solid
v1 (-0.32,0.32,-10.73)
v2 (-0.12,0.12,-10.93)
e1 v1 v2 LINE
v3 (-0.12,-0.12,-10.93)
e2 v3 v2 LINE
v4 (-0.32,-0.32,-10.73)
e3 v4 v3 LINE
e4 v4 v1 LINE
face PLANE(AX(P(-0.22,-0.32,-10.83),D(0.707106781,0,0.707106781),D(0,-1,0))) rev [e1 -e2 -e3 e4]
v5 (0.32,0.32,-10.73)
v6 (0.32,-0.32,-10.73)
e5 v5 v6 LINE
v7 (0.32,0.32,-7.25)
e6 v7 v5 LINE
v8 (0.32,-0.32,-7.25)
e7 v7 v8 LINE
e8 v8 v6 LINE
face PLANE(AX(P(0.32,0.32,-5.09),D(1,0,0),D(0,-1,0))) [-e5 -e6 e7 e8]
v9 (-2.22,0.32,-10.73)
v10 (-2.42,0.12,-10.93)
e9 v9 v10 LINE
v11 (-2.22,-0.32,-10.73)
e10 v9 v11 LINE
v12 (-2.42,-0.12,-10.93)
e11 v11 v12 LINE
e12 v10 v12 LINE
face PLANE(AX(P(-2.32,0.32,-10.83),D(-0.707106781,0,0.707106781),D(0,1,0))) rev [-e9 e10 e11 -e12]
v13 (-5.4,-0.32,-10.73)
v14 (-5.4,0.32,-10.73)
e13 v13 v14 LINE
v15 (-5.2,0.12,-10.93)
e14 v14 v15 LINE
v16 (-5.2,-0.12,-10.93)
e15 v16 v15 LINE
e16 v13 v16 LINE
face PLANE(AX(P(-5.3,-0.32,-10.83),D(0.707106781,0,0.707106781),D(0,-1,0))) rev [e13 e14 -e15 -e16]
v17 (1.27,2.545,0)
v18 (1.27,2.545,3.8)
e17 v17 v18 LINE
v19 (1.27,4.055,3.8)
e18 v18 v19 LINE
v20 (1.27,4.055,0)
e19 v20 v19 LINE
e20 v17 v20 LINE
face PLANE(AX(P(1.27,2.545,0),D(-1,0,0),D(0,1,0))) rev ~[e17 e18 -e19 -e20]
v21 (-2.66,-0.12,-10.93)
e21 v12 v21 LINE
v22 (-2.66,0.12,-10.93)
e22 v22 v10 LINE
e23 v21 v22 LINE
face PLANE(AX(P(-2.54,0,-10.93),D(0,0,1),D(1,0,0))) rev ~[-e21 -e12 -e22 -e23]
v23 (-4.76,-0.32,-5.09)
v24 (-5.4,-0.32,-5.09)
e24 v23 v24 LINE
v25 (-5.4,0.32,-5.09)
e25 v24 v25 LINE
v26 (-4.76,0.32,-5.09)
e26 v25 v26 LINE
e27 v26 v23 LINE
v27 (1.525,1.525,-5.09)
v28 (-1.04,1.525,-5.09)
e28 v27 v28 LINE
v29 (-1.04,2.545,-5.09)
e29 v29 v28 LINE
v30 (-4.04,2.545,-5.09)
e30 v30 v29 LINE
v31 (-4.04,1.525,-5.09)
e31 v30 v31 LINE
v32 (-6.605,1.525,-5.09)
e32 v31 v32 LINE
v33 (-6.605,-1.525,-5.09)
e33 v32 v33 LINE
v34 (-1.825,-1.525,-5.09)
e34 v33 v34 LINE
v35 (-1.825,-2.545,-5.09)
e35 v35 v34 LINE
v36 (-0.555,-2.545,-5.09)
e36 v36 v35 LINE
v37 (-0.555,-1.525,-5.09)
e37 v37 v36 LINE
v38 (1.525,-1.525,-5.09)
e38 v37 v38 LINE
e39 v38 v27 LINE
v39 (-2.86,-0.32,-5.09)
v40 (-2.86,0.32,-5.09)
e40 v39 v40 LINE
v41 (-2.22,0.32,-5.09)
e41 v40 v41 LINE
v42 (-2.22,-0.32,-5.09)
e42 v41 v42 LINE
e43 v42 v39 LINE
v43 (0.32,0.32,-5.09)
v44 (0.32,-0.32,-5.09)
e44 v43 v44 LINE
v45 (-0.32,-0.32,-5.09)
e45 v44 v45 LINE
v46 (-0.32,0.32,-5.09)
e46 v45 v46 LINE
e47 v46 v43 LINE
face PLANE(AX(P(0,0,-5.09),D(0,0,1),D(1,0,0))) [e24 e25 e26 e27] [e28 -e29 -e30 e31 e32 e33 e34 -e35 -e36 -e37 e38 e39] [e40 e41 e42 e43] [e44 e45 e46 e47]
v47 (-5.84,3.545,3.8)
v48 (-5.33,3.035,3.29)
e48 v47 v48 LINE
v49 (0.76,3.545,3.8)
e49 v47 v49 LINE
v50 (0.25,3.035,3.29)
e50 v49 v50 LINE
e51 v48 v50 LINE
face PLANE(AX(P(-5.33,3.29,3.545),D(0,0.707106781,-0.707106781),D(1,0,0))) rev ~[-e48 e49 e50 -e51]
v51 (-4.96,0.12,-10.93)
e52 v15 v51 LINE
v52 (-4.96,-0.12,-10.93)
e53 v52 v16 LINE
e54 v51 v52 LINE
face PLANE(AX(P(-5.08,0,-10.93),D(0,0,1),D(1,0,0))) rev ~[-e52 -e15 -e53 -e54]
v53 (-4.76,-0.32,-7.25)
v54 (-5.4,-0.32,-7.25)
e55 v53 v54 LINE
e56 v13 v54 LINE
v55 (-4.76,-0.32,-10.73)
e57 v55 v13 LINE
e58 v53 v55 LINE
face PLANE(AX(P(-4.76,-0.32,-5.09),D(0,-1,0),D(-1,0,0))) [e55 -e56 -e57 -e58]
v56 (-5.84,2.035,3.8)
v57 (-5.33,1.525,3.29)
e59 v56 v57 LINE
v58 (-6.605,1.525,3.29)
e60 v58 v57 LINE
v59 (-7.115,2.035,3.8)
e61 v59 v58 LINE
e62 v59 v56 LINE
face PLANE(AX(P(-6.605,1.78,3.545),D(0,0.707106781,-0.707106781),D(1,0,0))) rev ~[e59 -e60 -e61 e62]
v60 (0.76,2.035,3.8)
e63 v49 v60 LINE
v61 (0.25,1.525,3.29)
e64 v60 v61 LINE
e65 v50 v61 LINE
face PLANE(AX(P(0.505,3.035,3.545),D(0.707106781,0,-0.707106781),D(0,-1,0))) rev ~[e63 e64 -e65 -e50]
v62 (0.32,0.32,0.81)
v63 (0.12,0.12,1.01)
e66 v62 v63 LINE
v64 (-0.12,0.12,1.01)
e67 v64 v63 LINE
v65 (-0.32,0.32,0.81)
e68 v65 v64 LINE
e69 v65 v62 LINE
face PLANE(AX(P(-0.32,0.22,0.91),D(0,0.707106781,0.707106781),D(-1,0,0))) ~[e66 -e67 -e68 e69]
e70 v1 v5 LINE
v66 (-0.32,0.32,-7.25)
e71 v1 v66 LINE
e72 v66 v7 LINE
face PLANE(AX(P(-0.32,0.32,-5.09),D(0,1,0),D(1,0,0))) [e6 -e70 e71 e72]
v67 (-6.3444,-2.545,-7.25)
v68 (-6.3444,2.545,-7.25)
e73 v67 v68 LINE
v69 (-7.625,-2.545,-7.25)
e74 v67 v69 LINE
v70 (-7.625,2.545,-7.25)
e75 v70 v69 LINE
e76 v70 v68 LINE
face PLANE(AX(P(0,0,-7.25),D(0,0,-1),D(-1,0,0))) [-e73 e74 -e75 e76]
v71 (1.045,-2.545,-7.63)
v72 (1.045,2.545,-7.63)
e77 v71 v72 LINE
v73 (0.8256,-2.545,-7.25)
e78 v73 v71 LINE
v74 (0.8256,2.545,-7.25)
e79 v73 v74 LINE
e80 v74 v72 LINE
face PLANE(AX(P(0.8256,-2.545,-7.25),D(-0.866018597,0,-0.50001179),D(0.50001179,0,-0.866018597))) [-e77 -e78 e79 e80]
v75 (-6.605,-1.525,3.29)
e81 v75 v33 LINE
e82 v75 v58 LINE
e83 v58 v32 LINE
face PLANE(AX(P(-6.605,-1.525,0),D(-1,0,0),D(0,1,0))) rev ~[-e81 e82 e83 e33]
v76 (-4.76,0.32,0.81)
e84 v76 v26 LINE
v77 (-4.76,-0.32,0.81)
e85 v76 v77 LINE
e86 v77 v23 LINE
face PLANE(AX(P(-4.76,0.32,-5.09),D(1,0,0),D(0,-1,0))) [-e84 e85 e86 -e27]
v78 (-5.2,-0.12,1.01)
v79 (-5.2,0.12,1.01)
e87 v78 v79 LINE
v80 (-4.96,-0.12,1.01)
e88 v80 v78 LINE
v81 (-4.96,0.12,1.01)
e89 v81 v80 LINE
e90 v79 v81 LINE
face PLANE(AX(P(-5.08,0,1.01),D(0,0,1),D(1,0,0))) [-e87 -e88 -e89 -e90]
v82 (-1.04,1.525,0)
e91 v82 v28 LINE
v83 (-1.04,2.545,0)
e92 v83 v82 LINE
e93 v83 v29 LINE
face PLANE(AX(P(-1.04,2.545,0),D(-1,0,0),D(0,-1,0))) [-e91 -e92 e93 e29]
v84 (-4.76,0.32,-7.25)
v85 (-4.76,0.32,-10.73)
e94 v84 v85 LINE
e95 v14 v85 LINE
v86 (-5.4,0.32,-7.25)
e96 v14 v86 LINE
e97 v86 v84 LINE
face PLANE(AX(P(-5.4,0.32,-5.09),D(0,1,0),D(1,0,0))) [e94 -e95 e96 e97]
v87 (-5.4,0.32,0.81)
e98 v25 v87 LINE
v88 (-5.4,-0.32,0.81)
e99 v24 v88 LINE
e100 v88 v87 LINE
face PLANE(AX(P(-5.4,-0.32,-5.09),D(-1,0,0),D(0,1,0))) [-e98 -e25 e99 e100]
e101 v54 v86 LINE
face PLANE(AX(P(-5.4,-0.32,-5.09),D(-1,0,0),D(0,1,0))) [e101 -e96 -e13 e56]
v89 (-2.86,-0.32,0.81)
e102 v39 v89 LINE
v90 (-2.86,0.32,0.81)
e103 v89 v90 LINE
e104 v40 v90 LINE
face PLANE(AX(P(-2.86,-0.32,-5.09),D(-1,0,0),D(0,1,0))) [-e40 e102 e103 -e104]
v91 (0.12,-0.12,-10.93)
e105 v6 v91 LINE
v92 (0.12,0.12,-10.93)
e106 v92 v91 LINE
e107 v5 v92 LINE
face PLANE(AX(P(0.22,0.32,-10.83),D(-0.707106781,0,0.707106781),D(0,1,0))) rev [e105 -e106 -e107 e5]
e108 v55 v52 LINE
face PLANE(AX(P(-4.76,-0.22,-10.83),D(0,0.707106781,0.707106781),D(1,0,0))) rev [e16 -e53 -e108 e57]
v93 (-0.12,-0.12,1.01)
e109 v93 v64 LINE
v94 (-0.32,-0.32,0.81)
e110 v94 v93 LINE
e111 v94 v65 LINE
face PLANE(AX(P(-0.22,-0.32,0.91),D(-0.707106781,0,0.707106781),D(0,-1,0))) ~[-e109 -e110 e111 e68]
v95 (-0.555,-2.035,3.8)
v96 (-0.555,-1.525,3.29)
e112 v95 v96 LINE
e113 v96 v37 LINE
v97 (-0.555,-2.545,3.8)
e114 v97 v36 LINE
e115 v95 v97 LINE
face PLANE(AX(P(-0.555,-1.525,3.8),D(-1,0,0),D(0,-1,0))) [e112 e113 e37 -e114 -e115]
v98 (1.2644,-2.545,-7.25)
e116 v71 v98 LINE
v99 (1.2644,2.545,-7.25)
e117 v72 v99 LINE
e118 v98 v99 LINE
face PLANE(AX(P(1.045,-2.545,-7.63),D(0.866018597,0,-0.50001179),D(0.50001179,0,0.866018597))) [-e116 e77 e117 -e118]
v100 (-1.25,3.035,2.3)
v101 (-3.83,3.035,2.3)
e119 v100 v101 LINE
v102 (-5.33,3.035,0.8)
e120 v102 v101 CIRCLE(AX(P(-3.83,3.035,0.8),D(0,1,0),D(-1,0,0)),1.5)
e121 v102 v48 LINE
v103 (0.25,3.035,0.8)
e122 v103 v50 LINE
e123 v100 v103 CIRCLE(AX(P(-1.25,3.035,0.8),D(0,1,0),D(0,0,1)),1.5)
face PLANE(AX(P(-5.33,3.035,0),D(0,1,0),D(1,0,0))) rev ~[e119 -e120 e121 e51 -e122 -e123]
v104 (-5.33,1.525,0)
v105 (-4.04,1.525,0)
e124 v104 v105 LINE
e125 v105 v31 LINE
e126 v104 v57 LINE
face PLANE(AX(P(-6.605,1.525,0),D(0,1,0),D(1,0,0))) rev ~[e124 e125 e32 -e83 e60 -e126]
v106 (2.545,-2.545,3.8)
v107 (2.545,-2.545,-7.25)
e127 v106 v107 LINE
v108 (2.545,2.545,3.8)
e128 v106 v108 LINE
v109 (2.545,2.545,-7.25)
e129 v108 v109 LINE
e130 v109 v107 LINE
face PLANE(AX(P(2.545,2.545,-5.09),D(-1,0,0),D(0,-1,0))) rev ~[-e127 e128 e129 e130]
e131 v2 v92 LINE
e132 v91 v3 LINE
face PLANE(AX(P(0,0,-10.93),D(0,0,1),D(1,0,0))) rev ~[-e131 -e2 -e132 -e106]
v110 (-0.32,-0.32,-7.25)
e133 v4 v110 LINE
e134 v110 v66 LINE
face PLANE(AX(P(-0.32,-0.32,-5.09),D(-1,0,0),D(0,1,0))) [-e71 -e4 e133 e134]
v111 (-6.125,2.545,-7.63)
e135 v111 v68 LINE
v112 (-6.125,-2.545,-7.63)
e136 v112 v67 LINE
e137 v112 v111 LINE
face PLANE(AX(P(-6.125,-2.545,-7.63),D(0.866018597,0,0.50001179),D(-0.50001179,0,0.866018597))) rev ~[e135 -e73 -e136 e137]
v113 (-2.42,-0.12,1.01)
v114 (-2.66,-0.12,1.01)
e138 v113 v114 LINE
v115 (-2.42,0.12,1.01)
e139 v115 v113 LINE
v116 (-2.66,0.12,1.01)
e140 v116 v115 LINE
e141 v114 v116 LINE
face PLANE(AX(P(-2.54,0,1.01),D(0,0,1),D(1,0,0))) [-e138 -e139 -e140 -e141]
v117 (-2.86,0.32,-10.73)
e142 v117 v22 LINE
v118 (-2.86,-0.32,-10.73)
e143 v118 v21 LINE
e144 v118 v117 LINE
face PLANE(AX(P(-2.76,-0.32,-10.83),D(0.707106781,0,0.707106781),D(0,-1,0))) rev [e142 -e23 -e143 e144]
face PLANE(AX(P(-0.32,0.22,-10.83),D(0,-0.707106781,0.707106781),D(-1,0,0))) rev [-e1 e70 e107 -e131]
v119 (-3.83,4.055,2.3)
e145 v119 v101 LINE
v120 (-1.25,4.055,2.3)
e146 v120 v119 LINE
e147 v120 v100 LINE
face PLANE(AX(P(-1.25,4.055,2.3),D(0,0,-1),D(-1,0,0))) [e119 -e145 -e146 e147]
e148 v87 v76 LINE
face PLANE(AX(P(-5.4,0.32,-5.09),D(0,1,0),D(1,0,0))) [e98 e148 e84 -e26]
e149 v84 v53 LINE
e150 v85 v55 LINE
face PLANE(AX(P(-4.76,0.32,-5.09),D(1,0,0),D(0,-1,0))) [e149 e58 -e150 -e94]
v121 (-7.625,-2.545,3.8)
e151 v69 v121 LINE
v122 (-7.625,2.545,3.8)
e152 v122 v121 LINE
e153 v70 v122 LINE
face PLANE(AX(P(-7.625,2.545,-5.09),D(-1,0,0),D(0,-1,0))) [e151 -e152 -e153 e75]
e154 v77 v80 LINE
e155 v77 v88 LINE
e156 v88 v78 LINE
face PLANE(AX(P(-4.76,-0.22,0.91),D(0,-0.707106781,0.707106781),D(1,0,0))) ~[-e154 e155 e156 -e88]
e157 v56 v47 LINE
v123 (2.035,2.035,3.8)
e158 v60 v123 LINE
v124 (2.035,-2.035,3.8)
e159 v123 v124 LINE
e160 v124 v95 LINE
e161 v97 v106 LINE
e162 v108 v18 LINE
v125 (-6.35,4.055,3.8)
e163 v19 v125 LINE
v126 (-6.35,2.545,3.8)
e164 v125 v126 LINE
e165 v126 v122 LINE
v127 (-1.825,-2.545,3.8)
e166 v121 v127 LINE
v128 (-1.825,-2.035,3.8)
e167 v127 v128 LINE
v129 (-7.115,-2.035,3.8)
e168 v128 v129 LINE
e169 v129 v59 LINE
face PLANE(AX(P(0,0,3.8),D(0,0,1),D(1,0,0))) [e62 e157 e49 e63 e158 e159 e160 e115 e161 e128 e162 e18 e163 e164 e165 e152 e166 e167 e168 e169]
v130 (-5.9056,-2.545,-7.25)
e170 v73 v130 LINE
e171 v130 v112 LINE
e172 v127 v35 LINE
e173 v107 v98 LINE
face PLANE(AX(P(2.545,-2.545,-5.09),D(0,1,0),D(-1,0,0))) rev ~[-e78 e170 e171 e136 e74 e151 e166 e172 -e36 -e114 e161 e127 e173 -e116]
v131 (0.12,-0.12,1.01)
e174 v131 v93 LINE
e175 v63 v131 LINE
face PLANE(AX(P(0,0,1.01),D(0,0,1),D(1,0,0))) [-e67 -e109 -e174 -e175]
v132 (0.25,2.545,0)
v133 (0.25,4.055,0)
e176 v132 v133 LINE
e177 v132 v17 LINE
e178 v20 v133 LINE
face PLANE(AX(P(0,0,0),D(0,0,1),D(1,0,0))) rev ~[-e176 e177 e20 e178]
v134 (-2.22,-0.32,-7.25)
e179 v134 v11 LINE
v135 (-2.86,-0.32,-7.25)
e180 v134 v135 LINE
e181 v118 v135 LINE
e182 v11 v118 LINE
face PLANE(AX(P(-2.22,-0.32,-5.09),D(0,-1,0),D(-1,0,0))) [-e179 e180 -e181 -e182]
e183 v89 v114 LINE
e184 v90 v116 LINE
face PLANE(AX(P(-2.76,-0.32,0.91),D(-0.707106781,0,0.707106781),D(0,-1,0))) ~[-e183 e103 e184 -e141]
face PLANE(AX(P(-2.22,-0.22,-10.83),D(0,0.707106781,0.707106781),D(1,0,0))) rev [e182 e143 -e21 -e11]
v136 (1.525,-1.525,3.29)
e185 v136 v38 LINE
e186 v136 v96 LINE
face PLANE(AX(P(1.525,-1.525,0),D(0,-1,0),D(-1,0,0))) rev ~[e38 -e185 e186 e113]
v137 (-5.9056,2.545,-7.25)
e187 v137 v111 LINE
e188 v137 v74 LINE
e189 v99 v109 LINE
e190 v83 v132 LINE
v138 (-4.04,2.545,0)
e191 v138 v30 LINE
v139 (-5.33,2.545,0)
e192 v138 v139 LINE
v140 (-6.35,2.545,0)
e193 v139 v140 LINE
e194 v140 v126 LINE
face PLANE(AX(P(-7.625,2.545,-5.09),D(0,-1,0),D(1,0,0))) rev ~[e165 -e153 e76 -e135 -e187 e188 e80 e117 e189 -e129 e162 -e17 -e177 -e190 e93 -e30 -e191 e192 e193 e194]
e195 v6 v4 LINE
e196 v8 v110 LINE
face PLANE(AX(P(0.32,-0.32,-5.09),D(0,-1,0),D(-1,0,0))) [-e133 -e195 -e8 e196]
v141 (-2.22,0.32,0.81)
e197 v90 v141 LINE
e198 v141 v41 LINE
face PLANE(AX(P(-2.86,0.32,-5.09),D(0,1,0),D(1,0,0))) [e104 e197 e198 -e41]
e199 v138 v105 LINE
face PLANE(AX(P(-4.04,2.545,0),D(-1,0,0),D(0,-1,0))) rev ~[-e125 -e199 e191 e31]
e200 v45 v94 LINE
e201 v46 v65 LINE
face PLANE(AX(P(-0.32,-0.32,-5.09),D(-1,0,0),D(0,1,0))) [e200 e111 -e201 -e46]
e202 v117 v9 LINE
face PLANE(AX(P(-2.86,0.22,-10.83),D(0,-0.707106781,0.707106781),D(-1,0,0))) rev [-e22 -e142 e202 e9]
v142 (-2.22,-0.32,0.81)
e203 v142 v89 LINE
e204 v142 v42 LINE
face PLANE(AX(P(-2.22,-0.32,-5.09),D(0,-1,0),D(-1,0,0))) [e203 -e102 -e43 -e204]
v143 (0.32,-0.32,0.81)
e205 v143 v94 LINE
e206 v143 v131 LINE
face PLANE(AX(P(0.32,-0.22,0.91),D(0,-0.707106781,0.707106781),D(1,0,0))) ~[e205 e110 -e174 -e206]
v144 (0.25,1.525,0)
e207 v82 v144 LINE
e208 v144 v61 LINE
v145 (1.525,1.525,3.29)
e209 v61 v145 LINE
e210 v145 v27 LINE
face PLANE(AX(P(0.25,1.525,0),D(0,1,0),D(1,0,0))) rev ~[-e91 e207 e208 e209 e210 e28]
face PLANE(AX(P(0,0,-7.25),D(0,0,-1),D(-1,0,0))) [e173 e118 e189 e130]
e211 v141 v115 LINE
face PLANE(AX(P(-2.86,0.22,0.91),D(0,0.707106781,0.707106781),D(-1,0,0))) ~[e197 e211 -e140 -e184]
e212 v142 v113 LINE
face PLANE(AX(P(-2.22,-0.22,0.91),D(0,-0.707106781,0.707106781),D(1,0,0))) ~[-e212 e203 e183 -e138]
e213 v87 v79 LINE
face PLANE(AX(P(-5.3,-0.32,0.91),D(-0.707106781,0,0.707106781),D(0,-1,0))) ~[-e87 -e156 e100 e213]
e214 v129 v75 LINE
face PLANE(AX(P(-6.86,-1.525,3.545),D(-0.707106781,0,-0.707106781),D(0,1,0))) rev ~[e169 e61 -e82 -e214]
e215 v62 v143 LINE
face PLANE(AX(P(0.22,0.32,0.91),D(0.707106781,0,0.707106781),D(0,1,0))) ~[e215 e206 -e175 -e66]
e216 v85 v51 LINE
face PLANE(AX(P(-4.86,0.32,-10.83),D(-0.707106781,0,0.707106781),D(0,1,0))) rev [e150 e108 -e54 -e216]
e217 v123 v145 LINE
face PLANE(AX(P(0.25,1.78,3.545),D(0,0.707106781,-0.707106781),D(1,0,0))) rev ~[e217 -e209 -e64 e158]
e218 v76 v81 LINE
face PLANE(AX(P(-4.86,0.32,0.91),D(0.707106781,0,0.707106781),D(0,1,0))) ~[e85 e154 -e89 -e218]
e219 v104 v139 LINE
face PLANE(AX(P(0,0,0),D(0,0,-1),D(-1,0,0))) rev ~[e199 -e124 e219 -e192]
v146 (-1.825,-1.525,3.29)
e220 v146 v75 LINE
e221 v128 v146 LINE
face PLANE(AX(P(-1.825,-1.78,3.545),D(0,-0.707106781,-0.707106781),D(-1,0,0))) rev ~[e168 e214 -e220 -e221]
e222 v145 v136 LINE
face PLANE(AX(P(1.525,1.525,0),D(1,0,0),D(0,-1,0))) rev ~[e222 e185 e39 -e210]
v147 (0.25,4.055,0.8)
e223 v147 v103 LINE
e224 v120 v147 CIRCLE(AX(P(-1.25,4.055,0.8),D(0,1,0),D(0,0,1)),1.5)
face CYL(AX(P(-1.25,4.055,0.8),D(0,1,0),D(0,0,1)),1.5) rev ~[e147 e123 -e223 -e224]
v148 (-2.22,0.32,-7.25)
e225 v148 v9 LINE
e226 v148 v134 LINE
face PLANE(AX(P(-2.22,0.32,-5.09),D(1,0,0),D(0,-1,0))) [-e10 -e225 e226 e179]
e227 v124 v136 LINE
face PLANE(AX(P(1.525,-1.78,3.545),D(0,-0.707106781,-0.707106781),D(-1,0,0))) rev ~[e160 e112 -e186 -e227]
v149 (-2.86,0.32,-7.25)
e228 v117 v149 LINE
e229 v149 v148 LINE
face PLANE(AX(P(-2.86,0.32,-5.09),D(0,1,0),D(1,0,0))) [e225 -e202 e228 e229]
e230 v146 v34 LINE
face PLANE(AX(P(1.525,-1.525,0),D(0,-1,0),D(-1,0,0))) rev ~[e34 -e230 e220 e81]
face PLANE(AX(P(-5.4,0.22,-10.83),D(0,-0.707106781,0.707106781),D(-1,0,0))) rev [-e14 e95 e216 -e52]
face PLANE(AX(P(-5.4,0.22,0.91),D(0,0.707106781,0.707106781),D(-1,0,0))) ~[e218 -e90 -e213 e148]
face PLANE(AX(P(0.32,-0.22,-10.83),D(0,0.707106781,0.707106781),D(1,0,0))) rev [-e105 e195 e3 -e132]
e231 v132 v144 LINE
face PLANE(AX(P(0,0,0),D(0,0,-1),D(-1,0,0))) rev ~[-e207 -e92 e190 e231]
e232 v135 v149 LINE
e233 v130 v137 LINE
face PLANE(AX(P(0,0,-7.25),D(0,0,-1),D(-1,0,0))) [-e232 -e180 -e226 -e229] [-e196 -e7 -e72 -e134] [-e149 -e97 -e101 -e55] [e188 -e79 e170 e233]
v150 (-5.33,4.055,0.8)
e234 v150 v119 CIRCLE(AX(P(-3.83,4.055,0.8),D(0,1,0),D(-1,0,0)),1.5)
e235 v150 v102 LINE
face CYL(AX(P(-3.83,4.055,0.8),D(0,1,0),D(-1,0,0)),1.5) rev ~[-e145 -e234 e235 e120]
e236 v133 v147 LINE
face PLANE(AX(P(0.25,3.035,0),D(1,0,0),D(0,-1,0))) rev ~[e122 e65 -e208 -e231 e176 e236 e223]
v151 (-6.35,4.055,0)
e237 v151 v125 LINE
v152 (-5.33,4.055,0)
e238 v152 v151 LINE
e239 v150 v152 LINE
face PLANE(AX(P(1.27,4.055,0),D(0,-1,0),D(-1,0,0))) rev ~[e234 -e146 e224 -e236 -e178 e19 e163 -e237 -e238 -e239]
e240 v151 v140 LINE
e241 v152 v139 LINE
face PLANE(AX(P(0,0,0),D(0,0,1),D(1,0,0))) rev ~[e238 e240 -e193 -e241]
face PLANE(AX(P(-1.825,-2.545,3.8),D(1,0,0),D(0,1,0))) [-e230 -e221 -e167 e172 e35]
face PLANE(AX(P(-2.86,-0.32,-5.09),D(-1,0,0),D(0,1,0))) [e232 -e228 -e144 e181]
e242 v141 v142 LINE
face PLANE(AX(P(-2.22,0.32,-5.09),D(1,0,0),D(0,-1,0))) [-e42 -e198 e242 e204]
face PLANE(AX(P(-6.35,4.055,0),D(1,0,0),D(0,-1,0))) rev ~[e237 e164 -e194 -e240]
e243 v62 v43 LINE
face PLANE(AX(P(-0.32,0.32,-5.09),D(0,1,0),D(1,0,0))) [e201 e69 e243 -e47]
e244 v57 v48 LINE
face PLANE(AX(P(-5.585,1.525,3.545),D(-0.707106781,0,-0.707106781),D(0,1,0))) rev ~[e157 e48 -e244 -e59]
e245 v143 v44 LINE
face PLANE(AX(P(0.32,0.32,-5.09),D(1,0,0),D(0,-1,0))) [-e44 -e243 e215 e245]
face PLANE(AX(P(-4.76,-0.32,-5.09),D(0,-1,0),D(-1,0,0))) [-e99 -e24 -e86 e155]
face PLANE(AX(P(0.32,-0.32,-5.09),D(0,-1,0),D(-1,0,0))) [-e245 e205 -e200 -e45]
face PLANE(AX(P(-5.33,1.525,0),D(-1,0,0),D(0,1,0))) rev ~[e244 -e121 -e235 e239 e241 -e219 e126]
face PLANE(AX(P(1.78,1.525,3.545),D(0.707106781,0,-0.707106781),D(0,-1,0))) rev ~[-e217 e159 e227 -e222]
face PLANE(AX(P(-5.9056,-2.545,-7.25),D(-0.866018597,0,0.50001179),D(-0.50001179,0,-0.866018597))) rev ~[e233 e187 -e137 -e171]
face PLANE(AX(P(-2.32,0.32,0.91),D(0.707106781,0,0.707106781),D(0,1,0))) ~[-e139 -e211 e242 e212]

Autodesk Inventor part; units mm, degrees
ref_plane "YZ Plane" through (0, 0, 0) normal (1, 0, 0) x (0, 1, 0)
ref_plane "XZ Plane" through (0, 0, 0) normal (0, 1, 0) x (-1, 0, 0)
ref_plane "XY Plane" through (0, 0, 0) normal (0, 0, 1) x (1, 0, 0)
sketch "Skizze1" plane through (0, 0, 0) normal (0, 0, 1) x (1, 0, 0)
  line L0 (-7.625, -2.545) -> (2.545, -2.545)
  line L1 (2.545, -2.545) -> (2.545, 2.545)
  line L2 (2.545, 2.545) -> (1.27, 2.545)
  line L3 (1.27, 2.545) -> (1.27, 4.055)
  line L4 (1.27, 4.055) -> (-6.35, 4.055)
  line L5 (-6.35, 4.055) -> (-6.35, 2.545)
  line L6 (-6.35, 2.545) -> (-7.625, 2.545)
  line L7 (-7.625, 2.545) -> (-7.625, -2.545)
  line L8 (-5.33, 3.035) -> (0.25, 3.035)
  line L9 (0.25, 3.035) -> (0.25, 1.525)
  line L10 (0.25, 1.525) -> (1.525, 1.525)
  line L11 (1.525, 1.525) -> (1.525, -1.525)
  line L12 (1.525, -1.525) -> (-6.605, -1.525)
  line L13 (-6.605, -1.525) -> (-6.605, 1.525)
  line L14 (-6.605, 1.525) -> (-5.33, 1.525)
  line L15 (-5.33, 1.525) -> (-5.33, 3.035)
  line L16 (-6.605, 0) -> (-5.08, 0) construction
  line L17 (-5.08, 0) -> (0, 0) construction
  line L18 (0, 0) -> (1.525, 0) construction
  point P0 (0, -2.035)
  dimension "d0" = 1.02
  dimension "d1" = 3.05
  dimension "d3" = 7.62
  dimension "d4" = 6.6
  dimension "d5" = 1.525
  dimension "d6" = 5.08
extrude "Extrusion1" add sketch "Skizze1" along normal blind 3.8
sketch "Skizze2" plane through (0, 0, 0) normal (0, 0, -1) x (-1, 0, 0)
  line L0 (-2.545, -2.545) -> (-2.545, 2.545) projected
  line L1 (-2.545, 2.545) -> (-1.27, 2.545) projected
  line L2 (-1.525, 1.525) -> (-0.25, 1.525) projected
  line L3 (-1.525, -1.525) -> (-1.525, 1.525) projected
  line L4 (6.605, -1.525) -> (-1.525, -1.525) projected
  line L5 (7.625, -2.545) -> (-2.545, -2.545) projected
  line L6 (7.625, 2.545) -> (7.625, -2.545) projected
  line L7 (6.605, 1.525) -> (6.605, -1.525) projected
  line L8 (5.33, 1.525) -> (6.605, 1.525) projected
  line L9 (6.35, 2.545) -> (7.625, 2.545) projected
  line L10 (-0.25, 1.525) -> (1.04, 1.525)
  line L11 (-1.27, 2.545) -> (-1.27, 4.055) projected
  line L12 (-1.27, 2.545) -> (1.04, 2.545)
  line L13 (1.04, 2.545) -> (1.04, 1.525)
  line L14 (5.33, 1.525) -> (5.33, 3.035) projected
  line L15 (5.33, 1.525) -> (4.04, 1.525)
  line L16 (6.35, 2.545) -> (4.04, 2.545)
  line L17 (4.04, 2.545) -> (4.04, 1.525)
  point P0 (0, 0)
  dimension "d9" = 3
extrude "Extrusion2" add sketch "Skizze2" along normal blind 5.09
sketch "Skizze3" plane through (0, 0, -5.09) normal (0, 0, -1) x (-1, 0, 0)
  line L0 (-2.545, 2.545) -> (-2.545, -2.545) projected
  line L1 (7.625, 2.545) -> (7.625, -2.545) projected
  line L2 (-2.545, -2.545) -> (7.625, -2.545)
  line L3 (7.625, -2.545) -> (7.625, 2.545)
  line L4 (7.625, 2.545) -> (-2.545, 2.545)
  line L5 (-2.545, 2.545) -> (-2.545, -2.545)
  point P0 (0, 0)
extrude "Extrusion3" add sketch "Skizze3" along normal blind 2.16
sketch "Skizze4" plane through (-6.35, 4.055, 0) normal (0, 1, 0) x (1, 0, 0)
  line L0 (7.62, -3.8) -> (0, -3.8) construction
  line L1 (1.02, 0) -> (2.31, 0) projected
  line L2 (5.1, -2.3) -> (2.52, -2.3)
  line L3 (1.02, -0.8) -> (1.02, 0)
  line L4 (1.02, 0) -> (6.6, 0)
  line L5 (6.6, 0) -> (6.6, -0.8)
  arc A0 (5.1, -2.3) -> (6.6, -0.8) centre (5.1, -0.8) ccw
  arc A1 (1.02, -0.8) -> (2.52, -2.3) centre (2.52, -0.8) ccw
  line L6 (0, 0) -> (0, -3.8) construction
  line L7 (6.6, 0) -> (6.6, -3.8) construction
  line L8 (6.6, 0) -> (6.6, -3.8) construction
  line L9 (1.02, 0) -> (1.02, -3.8) construction
  line L10 (1.02, 0) -> (1.02, -3.8) construction
  point P0 (6.35, 0)
  dimension "d14" = 1.5
  dimension "d15" = 1.5
extrude "Extrusion4" cut sketch "Skizze4" against normal up to surface (1.02 mm away)
sketch "Skizze5" plane through (-7.625, -2.545, 3.8) normal (0, -1, 0) x (1, 0, 0)
  line L0 (0, -11.05) -> (1.2806, -11.05) construction
  line L1 (10.17, -11.05) -> (8.8894, -11.05) construction
  line L2 (1.2806, -11.05) -> (1.7194, -11.05)
  line L3 (1.7194, -11.05) -> (8.4506, -11.05) construction
  line L4 (8.4506, -11.05) -> (8.8894, -11.05)
  line L5 (8.4506, -11.05) -> (8.67, -11.43)
  line L6 (8.67, -11.43) -> (8.8894, -11.05)
  line L7 (1.7194, -11.05) -> (1.5, -11.43)
  line L8 (1.5, -11.43) -> (1.2806, -11.05)
  line L9 (10.17, -11.05) -> (10.17, 0) projected
  point P0 (7.625, -3.8)
  point P1 (0, -11.05)
  dimension "d18" = 0.38
  dimension "d19" = 1.5
extrude "Extrusion5" add sketch "Skizze5" against normal up to surface (5.09 mm away)
sketch "Skizze6" plane through (0, 0, -5.09) normal (0, 0, 1) x (1, 0, 0)
  line L0 (-0.32, 0.32) -> (0.32, 0.32)
  line L1 (0.32, 0.32) -> (0.32, -0.32)
  line L2 (0.32, -0.32) -> (-0.32, -0.32)
  line L3 (-0.32, -0.32) -> (-0.32, 0.32)
  line L4 (0.32, -0.32) -> (-0.32, 0.32) construction
  point P0 (0, 0)
  point P1 (0, 0)
  dimension "d22" = 0.64
extrude "Extrusion6" add sketch "Skizze6" along normal blind 6.1 and the other way blind 5.84
chamfer "Fase1" distance 0.2 angle 45 8 edges at (0, 0.32, 1.01) (0.32, 0, 1.01) (0, -0.32, 1.01) (-0.32, 0, 1.01) (0.32, 0, -10.93) (-0.32, 0, -10.93) (0, -0.32, -10.93) (0, 0.32, -10.93)
pattern_linear "Rechteckige Anordnung1" count 3 spacing 2.54 along (-1, 0, 0) of "Extrusion6", "Fase1"
sketch "Skizze8" plane through (0, 0, 3.8) normal (0, 0, 1) x (1, 0, 0)
  line L0 (1.525, -1.525) -> (-6.605, -1.525) construction
  line L1 (-7.625, -2.545) -> (2.545, -2.545) construction
  line L2 (-1.825, -2.035) -> (-3.255, -2.035) construction
  line L3 (-2.54, -2.545) -> (-2.54, -2.035) construction
  line L4 (-4.525, -1.525) -> (-3.255, -1.525)
  line L5 (-3.255, -1.525) -> (-3.255, -2.545)
  line L6 (-3.255, -2.545) -> (-4.525, -2.545)
  line L7 (-4.525, -2.545) -> (-4.525, -1.525)
  line L8 (-1.825, -1.525) -> (-0.555, -1.525)
  line L9 (-0.555, -1.525) -> (-0.555, -2.545)
  line L10 (-0.555, -2.545) -> (-1.825, -2.545)
  line L11 (-1.825, -2.545) -> (-1.825, -1.525)
  line L12 (-7.625, 2.545) -> (-7.625, -2.545) projected
  point P0 (0, 0)
  dimension "d33" = 1.27
  dimension "d34" = 3.1
extrude "Extrusion7" cut sketch "Skizze8" against normal up to surface (8.89 mm away) contours L8 L9 L10 L11
chamfer "Fase2" distance 0.51 angle 45 9 edges at (-6.605, 0, 3.8) (-4.215, -1.525, 3.8) (-5.9675, 1.525, 3.8) (-5.33, 2.28, 3.8) (-2.54, 3.035, 3.8) (0.25, 2.28, 3.8) (0.8875, 1.525, 3.8) (1.525, 0, 3.8) (0.485, -1.525, 3.8)
properties part number "Molex_3"
